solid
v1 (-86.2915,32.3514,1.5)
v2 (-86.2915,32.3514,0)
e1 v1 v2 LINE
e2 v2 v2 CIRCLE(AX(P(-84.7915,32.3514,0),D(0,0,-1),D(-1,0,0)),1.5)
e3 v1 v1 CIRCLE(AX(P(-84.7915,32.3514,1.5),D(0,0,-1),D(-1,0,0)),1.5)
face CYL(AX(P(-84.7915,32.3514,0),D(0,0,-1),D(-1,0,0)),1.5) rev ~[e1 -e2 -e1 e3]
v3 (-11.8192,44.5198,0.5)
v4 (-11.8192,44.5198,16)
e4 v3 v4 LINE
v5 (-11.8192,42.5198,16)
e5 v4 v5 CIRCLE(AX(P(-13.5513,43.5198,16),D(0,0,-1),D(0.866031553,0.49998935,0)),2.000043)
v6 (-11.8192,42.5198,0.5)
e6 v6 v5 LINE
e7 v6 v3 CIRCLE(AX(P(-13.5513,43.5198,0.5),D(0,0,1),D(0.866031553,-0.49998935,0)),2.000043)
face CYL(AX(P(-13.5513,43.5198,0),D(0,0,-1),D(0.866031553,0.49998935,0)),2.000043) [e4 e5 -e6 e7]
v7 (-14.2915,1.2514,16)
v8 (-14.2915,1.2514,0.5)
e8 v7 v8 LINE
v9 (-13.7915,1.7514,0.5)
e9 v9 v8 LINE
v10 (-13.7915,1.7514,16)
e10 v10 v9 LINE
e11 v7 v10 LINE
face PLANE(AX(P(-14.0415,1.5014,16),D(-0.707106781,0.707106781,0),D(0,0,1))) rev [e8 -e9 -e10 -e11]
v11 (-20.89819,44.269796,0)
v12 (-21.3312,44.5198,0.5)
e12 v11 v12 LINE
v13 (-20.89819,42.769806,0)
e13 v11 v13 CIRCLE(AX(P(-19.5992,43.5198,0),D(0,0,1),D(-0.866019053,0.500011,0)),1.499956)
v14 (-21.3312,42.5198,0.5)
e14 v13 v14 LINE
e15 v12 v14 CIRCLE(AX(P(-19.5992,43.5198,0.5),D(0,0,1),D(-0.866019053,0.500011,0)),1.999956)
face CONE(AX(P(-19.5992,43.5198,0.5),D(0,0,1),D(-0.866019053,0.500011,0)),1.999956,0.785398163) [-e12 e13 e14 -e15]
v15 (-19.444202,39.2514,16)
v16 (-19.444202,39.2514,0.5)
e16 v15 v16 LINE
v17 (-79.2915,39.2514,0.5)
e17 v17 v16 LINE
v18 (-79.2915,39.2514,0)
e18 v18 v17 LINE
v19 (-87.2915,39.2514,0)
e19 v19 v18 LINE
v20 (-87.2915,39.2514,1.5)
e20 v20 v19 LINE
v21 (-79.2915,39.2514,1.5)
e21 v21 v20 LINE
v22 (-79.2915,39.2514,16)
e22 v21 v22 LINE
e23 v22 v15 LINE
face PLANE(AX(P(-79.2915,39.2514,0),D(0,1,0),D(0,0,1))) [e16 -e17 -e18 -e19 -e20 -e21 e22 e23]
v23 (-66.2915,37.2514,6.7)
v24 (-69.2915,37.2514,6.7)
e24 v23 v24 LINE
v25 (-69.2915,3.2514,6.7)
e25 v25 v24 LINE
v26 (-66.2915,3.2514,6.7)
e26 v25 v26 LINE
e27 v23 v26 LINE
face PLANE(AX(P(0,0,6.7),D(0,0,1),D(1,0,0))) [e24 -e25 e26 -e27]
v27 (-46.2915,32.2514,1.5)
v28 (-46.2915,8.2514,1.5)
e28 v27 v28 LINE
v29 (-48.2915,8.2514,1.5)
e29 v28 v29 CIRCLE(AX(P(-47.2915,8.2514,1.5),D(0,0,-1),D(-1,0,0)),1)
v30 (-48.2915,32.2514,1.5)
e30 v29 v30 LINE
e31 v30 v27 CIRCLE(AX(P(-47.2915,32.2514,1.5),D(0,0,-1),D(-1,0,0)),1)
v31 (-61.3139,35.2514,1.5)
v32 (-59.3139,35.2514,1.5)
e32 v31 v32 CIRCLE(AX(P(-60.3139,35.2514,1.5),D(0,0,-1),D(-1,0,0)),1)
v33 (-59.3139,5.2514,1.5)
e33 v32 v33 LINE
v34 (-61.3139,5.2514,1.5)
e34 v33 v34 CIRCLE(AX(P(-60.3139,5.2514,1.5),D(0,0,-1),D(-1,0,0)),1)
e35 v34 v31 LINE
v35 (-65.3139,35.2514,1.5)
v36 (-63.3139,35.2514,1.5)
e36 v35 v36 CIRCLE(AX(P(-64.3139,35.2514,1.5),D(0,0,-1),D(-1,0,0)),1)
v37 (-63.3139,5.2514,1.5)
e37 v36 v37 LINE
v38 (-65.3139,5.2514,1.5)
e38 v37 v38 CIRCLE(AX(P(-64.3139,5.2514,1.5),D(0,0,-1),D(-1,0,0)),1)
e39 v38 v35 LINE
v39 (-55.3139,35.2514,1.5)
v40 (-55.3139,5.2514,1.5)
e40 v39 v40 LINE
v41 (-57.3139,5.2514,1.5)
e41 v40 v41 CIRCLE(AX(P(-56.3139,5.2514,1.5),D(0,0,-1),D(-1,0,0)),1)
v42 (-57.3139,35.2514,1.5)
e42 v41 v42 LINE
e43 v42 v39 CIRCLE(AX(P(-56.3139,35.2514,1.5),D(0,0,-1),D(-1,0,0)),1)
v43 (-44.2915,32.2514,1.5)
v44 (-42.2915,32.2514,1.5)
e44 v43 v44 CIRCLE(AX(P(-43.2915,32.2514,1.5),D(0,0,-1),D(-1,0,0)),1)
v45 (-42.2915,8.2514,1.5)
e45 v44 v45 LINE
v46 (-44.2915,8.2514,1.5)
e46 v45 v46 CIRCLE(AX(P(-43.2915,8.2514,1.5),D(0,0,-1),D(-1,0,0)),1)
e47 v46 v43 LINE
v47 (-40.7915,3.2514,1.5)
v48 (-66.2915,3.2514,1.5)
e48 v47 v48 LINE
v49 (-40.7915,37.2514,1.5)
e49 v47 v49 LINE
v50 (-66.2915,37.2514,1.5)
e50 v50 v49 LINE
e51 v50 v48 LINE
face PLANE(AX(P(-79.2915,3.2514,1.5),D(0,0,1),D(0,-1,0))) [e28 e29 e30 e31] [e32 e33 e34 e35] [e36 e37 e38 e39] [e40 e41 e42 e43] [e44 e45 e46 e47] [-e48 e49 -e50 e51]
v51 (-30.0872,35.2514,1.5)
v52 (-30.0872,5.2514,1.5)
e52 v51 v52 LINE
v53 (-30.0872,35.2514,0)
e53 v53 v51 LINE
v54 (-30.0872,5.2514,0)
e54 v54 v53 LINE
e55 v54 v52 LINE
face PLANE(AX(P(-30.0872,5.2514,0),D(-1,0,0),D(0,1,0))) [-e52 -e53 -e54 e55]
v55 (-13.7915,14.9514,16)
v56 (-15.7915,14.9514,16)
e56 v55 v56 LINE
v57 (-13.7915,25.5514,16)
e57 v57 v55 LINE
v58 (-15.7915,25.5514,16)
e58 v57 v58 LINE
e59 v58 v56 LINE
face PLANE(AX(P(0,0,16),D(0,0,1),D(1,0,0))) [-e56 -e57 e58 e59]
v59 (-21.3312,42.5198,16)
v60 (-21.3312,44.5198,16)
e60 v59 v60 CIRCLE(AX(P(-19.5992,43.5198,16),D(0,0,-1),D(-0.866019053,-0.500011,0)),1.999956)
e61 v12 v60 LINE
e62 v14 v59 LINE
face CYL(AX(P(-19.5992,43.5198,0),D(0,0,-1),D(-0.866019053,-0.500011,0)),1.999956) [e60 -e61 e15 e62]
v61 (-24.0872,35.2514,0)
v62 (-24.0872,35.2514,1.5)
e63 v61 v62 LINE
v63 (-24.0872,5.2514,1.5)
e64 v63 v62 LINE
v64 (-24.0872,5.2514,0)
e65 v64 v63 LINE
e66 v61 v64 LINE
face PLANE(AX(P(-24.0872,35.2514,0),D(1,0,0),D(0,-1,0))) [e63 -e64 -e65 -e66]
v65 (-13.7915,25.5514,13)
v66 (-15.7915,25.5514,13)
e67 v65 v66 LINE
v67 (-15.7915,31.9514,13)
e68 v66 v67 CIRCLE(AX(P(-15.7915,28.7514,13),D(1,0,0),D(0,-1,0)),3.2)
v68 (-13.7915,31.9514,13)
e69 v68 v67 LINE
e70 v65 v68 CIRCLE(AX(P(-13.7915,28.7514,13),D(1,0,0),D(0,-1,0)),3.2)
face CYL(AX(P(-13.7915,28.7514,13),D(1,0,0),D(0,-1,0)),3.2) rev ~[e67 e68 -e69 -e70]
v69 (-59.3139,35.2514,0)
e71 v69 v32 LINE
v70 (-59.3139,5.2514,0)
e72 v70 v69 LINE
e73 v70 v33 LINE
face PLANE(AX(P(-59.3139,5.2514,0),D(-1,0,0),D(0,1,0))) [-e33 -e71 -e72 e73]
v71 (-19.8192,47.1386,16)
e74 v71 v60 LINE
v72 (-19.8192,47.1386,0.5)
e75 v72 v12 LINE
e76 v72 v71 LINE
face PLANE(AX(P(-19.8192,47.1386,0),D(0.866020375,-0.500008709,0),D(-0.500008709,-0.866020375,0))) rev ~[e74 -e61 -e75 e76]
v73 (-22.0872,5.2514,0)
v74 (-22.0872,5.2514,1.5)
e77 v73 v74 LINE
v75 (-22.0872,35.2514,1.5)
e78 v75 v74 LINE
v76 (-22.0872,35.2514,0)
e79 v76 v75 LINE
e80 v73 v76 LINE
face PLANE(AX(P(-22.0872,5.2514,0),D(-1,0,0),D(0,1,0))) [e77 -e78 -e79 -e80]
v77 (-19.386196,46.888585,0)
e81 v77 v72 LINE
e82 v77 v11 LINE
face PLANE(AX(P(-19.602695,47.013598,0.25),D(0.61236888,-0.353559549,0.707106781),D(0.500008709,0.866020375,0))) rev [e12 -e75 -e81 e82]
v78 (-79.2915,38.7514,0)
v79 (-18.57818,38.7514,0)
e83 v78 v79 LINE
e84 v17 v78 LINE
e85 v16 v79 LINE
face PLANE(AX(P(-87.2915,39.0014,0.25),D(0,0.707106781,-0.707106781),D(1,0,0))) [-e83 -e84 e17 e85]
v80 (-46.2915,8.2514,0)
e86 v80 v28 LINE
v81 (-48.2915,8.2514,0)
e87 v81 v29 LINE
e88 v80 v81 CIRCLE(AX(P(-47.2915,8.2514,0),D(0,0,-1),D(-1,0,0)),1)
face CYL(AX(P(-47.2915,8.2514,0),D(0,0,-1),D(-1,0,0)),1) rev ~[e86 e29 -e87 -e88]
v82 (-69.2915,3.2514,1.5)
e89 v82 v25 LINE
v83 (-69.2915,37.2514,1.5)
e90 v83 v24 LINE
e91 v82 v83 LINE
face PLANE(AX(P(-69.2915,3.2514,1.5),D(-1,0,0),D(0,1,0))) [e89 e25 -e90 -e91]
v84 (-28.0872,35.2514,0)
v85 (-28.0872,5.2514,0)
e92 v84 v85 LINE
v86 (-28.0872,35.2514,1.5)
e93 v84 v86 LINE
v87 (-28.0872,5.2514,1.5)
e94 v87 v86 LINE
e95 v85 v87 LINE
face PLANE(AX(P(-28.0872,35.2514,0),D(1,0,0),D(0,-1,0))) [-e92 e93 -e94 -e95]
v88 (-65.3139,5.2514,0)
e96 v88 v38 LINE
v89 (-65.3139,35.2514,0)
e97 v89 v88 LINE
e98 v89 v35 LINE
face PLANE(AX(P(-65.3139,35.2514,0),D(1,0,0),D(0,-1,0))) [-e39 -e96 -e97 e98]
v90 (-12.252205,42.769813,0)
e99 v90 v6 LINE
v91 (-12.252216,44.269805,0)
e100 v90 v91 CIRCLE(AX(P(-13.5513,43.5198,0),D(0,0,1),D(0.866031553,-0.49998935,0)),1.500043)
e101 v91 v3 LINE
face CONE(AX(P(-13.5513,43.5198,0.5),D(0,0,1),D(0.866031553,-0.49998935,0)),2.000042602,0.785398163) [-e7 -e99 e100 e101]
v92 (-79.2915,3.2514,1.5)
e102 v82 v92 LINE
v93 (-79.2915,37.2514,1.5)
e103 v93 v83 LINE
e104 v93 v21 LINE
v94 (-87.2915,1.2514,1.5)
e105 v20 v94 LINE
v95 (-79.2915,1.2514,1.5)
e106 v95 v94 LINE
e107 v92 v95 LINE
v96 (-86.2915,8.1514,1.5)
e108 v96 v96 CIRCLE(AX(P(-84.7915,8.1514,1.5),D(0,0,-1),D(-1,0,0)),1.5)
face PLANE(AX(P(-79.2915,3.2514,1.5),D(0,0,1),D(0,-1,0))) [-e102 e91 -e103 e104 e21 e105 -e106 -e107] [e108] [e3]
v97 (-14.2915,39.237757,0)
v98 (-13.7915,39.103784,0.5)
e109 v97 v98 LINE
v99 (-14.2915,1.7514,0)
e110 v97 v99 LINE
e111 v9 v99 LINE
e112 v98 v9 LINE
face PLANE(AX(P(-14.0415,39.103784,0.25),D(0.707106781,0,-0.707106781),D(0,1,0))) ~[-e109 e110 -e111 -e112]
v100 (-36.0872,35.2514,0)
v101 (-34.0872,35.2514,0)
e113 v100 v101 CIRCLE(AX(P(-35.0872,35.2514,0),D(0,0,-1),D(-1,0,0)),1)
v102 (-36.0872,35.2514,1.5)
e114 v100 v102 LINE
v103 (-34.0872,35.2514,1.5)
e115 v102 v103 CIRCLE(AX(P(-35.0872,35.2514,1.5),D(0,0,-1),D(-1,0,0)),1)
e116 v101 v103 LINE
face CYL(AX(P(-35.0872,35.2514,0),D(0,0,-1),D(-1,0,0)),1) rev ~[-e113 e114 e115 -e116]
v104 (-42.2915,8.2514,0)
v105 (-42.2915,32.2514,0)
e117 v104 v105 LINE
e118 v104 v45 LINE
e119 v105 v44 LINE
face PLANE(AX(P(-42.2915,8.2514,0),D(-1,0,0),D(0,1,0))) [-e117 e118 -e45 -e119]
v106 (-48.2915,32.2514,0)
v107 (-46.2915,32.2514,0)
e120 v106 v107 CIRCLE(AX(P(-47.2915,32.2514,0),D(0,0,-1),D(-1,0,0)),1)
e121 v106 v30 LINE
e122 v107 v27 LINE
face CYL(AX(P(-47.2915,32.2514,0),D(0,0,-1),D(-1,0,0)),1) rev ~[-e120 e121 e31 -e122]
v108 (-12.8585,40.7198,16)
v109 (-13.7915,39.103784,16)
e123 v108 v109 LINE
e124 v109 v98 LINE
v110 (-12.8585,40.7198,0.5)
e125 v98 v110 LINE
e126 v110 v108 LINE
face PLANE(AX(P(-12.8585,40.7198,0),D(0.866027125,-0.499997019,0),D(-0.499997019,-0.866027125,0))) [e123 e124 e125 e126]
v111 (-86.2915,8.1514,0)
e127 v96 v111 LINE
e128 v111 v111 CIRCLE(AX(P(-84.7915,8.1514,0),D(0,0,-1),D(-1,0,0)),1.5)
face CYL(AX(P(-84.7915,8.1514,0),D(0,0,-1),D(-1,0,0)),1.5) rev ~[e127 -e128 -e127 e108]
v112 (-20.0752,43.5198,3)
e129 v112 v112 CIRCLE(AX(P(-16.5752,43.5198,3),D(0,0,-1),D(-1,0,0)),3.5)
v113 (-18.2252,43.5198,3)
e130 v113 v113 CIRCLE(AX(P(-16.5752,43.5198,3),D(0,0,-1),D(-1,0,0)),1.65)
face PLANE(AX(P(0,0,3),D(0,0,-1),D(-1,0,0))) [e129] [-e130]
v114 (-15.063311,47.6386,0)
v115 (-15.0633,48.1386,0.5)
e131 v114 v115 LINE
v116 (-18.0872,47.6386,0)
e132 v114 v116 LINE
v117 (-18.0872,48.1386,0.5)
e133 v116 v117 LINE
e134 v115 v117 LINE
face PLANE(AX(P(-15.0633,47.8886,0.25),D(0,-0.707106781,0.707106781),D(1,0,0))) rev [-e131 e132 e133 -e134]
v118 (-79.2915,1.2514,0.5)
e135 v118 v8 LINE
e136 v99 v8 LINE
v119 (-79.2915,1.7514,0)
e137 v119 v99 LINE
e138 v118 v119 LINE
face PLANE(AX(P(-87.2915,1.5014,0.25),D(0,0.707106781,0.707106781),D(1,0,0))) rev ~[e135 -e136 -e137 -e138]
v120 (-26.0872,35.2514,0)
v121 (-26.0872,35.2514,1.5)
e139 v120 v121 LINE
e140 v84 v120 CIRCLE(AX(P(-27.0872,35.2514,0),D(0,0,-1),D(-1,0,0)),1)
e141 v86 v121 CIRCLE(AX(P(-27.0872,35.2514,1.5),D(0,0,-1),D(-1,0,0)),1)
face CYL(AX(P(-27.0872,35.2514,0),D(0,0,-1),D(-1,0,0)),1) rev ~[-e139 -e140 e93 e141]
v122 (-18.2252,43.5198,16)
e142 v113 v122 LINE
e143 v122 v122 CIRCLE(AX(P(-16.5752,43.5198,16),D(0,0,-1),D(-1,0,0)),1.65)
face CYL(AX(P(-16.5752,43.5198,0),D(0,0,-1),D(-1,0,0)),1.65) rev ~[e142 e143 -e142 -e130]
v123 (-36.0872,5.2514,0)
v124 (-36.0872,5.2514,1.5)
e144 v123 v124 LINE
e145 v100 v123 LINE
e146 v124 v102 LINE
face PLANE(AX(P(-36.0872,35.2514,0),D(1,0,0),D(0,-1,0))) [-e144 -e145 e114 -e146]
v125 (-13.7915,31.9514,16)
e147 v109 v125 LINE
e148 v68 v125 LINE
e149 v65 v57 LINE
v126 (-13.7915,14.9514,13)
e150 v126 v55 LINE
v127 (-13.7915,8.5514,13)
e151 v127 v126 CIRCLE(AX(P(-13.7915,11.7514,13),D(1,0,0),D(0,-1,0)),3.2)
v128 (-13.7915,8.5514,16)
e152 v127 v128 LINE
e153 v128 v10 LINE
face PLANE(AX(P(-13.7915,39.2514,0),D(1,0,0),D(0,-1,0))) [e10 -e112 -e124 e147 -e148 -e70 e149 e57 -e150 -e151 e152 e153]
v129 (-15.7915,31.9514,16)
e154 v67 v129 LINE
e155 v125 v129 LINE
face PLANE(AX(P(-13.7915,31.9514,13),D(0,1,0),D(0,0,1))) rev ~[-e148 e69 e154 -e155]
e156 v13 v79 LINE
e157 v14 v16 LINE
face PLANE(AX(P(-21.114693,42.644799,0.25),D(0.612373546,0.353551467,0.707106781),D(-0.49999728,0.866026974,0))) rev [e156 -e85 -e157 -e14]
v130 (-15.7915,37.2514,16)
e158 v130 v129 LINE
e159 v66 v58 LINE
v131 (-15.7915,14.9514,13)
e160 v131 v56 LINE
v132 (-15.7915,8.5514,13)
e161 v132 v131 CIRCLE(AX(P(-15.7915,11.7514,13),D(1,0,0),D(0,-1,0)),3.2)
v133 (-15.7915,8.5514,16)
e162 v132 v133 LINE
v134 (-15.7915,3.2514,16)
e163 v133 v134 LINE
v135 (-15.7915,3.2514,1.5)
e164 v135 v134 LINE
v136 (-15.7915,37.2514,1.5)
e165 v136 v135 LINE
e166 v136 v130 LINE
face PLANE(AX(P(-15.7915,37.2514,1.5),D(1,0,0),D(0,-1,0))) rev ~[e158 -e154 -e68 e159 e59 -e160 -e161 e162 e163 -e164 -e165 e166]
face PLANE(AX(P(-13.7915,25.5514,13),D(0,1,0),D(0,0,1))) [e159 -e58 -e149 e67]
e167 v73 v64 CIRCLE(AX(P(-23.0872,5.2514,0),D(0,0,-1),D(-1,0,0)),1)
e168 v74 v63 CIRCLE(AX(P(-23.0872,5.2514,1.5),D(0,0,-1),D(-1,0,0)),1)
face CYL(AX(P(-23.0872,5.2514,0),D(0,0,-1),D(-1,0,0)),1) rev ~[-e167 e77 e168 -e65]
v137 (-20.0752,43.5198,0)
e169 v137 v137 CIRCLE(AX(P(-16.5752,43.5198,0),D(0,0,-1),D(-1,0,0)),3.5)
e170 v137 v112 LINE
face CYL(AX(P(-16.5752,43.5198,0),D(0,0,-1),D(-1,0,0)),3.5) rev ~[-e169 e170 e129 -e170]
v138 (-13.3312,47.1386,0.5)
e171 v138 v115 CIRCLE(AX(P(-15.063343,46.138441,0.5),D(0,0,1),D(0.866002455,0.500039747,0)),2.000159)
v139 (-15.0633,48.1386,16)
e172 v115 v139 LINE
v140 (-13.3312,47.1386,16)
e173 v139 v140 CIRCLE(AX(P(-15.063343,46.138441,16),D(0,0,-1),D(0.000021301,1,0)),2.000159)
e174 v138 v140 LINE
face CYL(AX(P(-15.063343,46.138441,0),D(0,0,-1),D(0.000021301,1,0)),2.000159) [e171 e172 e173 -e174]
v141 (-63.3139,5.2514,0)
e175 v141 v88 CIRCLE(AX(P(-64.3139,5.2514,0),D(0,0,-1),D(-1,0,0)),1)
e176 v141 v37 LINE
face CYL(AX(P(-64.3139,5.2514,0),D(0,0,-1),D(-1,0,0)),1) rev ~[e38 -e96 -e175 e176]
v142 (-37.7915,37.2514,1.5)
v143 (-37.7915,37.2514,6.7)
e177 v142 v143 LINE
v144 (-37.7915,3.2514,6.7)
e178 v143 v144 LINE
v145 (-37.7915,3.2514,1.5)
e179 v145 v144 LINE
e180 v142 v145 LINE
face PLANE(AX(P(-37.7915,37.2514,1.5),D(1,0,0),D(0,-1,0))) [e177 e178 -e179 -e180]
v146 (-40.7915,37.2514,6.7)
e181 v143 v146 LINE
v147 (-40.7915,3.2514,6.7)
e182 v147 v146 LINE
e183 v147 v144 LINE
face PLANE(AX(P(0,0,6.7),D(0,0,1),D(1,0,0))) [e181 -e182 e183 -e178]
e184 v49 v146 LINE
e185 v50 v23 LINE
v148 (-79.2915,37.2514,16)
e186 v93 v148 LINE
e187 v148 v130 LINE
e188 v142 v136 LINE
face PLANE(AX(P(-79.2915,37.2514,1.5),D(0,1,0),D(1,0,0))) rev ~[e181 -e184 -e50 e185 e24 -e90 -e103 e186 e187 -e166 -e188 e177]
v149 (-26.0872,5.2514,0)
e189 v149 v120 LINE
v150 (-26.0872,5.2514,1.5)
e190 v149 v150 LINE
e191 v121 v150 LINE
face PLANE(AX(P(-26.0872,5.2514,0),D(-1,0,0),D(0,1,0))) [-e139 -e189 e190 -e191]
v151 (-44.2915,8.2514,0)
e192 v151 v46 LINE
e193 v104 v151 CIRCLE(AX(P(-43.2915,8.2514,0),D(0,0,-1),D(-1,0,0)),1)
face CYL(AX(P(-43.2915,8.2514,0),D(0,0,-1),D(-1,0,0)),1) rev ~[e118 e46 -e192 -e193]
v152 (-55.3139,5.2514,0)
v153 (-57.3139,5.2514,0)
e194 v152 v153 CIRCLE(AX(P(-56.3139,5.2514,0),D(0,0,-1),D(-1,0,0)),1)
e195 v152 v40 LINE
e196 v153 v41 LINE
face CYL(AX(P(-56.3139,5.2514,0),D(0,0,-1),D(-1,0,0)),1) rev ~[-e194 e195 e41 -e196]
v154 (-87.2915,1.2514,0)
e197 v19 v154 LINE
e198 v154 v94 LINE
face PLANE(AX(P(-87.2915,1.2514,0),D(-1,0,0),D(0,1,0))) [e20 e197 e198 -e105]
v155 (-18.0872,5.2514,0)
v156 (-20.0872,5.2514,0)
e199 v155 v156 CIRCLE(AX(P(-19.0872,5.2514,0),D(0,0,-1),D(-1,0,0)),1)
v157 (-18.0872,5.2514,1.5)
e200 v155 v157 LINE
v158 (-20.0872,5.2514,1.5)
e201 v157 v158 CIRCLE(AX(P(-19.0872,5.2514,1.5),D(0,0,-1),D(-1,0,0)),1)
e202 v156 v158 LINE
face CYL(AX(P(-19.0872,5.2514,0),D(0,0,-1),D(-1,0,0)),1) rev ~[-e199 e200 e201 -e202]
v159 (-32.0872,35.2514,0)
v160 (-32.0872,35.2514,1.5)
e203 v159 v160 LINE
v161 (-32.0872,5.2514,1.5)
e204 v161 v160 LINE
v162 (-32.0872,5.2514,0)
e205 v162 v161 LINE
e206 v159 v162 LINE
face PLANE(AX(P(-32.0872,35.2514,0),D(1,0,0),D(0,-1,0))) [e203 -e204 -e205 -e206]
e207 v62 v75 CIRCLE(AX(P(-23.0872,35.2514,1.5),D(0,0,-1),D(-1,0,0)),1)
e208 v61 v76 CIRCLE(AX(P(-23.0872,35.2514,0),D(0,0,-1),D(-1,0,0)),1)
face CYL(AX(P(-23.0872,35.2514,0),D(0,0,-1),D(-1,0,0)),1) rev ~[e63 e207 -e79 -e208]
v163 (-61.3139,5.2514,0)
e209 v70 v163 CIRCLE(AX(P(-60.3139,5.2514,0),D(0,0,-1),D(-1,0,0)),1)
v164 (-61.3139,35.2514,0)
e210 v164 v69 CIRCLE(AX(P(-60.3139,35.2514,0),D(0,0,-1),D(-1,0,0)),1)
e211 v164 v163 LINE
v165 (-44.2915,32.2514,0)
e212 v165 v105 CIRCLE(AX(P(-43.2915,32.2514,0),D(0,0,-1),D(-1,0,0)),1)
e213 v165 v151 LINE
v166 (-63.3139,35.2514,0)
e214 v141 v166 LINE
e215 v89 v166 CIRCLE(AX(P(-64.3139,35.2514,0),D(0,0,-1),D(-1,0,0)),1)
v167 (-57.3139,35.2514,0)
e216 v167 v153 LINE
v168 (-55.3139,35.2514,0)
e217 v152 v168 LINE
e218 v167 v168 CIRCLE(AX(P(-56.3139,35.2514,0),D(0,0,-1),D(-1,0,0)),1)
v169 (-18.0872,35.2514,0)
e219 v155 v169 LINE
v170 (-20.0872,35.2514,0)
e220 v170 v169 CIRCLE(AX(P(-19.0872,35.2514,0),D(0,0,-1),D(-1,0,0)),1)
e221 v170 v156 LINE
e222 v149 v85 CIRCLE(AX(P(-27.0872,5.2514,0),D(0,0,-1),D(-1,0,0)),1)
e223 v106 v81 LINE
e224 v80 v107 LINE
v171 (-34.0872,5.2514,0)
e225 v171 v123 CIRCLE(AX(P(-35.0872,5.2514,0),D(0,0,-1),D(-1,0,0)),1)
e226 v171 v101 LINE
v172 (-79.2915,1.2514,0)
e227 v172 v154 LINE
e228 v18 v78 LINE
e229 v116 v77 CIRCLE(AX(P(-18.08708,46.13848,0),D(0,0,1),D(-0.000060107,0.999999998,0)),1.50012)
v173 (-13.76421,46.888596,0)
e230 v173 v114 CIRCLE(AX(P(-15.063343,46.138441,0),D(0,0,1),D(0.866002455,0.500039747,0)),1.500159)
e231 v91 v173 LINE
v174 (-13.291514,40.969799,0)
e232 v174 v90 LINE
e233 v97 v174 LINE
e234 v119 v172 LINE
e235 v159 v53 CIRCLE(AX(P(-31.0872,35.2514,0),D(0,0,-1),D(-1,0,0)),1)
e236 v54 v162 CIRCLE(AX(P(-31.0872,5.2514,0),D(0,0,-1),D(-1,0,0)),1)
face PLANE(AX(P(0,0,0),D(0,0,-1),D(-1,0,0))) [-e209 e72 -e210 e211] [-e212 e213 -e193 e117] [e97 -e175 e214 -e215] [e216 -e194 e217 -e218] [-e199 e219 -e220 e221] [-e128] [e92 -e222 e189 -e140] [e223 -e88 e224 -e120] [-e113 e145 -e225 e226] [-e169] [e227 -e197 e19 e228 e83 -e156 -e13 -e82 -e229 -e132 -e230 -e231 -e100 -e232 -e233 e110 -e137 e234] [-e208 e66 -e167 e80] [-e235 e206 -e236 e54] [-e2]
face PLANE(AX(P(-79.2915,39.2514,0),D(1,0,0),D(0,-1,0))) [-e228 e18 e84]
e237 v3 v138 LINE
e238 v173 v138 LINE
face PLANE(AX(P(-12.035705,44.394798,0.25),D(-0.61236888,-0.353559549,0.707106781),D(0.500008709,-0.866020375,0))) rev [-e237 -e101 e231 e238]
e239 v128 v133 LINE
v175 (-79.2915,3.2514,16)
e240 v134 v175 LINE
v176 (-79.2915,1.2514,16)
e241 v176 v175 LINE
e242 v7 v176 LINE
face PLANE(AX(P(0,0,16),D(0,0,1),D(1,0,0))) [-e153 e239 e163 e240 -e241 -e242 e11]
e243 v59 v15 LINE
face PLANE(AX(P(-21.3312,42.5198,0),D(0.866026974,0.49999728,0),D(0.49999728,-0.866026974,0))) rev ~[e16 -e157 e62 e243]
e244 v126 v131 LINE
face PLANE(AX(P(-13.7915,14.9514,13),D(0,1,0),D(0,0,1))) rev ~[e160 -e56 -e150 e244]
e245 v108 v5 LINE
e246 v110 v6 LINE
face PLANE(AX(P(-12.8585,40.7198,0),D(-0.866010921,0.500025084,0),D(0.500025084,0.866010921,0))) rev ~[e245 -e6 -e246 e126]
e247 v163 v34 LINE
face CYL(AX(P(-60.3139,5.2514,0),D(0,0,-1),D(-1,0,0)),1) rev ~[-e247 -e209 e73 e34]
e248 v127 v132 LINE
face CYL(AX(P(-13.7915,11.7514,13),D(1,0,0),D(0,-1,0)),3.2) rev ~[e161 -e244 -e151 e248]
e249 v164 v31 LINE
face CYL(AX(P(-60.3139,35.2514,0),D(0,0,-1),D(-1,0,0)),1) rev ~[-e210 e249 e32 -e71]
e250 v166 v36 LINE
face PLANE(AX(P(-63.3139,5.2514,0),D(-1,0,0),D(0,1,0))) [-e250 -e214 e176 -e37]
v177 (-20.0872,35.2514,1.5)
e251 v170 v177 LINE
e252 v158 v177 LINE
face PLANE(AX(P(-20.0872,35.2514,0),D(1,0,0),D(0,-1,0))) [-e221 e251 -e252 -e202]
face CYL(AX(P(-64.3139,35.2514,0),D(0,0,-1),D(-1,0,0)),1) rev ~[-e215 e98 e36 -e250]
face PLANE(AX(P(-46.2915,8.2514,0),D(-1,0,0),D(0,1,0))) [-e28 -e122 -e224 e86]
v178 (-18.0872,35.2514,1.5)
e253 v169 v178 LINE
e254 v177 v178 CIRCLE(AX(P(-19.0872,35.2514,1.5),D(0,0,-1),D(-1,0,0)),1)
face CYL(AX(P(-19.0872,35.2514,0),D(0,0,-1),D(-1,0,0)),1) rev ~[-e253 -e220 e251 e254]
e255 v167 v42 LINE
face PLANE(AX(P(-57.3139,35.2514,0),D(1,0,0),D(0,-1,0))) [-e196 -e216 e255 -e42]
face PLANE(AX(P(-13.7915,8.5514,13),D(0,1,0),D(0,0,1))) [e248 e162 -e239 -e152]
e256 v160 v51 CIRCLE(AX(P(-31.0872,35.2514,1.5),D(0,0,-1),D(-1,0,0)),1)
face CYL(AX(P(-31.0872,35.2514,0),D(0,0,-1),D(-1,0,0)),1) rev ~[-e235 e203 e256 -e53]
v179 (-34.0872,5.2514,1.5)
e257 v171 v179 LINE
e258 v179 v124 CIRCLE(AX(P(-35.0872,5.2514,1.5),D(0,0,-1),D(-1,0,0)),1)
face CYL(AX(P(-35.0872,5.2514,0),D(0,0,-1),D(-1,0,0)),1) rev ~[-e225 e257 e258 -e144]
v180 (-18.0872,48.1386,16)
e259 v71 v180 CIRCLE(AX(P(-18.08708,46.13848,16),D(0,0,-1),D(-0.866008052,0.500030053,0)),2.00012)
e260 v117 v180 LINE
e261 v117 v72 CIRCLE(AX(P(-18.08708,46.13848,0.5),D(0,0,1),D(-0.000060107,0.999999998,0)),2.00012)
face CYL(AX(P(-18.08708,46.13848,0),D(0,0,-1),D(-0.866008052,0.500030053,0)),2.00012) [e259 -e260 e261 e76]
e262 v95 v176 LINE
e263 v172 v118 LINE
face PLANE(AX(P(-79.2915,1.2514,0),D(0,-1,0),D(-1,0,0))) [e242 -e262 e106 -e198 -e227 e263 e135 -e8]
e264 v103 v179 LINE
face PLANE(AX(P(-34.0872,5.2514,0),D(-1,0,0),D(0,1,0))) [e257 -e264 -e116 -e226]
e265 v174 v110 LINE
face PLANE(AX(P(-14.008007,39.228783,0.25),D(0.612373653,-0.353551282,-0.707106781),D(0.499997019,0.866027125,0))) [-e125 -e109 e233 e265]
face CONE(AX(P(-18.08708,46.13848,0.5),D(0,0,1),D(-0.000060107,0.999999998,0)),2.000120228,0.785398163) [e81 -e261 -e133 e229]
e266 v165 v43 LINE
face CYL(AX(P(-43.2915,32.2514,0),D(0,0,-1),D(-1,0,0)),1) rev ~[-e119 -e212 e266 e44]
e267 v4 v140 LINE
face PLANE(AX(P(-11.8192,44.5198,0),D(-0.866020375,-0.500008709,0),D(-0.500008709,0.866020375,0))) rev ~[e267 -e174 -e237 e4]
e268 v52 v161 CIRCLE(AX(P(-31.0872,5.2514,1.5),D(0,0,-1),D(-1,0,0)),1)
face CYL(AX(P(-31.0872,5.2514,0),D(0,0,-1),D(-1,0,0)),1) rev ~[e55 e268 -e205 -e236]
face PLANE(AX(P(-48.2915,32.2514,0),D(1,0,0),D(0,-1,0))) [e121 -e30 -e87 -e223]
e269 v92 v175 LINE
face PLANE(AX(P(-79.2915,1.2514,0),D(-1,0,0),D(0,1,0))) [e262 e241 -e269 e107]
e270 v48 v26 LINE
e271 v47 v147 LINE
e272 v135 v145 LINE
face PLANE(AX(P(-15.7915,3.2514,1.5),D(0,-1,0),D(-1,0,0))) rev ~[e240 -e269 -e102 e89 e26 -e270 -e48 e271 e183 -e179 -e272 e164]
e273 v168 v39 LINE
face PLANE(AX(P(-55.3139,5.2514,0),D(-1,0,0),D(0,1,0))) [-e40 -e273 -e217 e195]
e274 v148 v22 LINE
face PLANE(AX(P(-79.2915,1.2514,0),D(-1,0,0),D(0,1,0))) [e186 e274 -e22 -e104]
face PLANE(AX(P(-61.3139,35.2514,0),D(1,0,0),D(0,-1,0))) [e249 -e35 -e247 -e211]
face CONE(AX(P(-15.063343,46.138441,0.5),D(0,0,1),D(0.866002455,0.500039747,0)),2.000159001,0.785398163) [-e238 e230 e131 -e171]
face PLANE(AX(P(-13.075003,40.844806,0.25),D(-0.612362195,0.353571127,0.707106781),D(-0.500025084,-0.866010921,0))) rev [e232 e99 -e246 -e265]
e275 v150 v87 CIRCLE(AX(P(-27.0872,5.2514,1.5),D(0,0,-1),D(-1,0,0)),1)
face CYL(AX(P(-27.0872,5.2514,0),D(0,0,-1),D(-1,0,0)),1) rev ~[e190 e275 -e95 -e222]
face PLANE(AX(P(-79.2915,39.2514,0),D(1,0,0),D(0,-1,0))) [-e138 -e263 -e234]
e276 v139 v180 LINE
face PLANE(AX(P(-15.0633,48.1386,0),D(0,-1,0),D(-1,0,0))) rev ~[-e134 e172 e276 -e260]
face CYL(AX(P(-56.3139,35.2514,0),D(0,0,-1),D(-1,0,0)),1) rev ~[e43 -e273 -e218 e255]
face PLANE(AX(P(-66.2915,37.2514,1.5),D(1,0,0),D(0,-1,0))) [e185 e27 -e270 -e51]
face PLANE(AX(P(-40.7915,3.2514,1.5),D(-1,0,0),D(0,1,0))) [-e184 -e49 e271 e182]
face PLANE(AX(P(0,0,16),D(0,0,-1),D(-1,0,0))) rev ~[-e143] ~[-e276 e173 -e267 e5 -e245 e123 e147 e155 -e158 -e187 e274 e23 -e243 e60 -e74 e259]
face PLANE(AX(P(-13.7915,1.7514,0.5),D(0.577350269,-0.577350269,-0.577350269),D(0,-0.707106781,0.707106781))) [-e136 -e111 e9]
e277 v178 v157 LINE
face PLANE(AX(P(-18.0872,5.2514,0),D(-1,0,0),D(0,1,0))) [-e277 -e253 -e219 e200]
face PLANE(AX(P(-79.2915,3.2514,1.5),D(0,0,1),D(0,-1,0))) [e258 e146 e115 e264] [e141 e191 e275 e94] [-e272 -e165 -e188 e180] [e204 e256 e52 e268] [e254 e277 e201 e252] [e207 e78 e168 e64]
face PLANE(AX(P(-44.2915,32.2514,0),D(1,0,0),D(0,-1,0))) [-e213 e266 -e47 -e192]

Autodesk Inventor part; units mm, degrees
ref_plane "YZ Plane" through (0, 0, 0) normal (1, 0, 0) x (0, 1, 0)
ref_plane "XZ Plane" through (0, 0, 0) normal (0, 1, 0) x (-1, 0, 0)
ref_plane "XY Plane" through (0, 0, 0) normal (0, 0, 1) x (1, 0, 0)
sketch "Sketch1" plane through (0, 0, 0) normal (0, 0, 1) x (1, 0, 0)
  line L0 (-79.2915, 39.2514) -> (-13.7915, 39.2514)
  line L1 (-13.7915, 39.2514) -> (-13.7915, 1.2514)
  line L2 (-13.7915, 1.2514) -> (-79.2915, 1.2514)
  line L3 (-79.2915, 1.2514) -> (-79.2915, 39.2514)
  point P0 (0, 0)
extrude "Extrusion1" add sketch "Sketch1" along normal blind 1.5
sketch "Sketch2" plane through (0, 0, 1.5) normal (0, 0, 1) x (1, 0, 0)
  line L0 (-13.7915, 39.2514) -> (-13.7915, 1.2514) projected
  line L1 (-79.2915, 39.2514) -> (-13.7915, 39.2514) projected
  line L2 (-79.2915, 1.2514) -> (-79.2915, 39.2514) projected
  line L3 (-13.7915, 1.2514) -> (-79.2915, 1.2514) projected
  line L4 (-79.2915, 37.2514) -> (-15.7915, 37.2514)
  line L5 (-15.7915, 37.2514) -> (-15.7915, 3.2514)
  line L6 (-15.7915, 3.2514) -> (-79.2915, 3.2514)
  point P0 (0, 0)
  dimension "d2" = 2
  dimension "d3" = 2
  dimension "d4" = 2
extrude "Extrusion2" add sketch "Sketch2" along normal blind 14.5 contours L0 L3 L2 L6 L5 L4 L1
sketch "Sketch3" plane through (-13.7915, 1.2514, 0) normal (1, 0, 0) x (0, 0, -1)
  line L0 (0, 0) -> (-16, 0) projected
  line L1 (0, 38) -> (0, 0) projected
  line L2 (0, 38) -> (-16, 38) projected
  line L3 (-16, 38) -> (-16, 0) projected
  arc A0 (-13, 24.3) -> (-13, 30.7) centre (-13, 27.5) ccw
  line L4 (-13, 30.7) -> (-16, 30.7)
  line L5 (-13, 24.3) -> (-16, 24.3)
  arc A1 (-13, 7.3) -> (-13, 13.7) centre (-13, 10.5) ccw
  line L6 (-13, 7.3) -> (-16, 7.3)
  line L7 (-13, 13.7) -> (-16, 13.7)
  point P0 (0, -1.2514)
  dimension "d7" = 13
  dimension "d8" = 10.5
  dimension "d9" = 3.2
  dimension "d10" = 13
  dimension "d11" = 10.5
extrude "Extrusion3" cut sketch "Sketch3" against normal blind 13 contours L3 L7 A1 L6 | L4 A0 L5 L3
sketch "Sketch4" plane through (0, 0, 0) normal (0, 0, -1) x (-1, 0, 0)
  line L0 (21.3312, 42.5198) -> (19.2419, 38.901)
  arc A0 (21.3312, 42.5198) -> (21.3312, 44.5198) centre (19.5992, 43.5198) ccw
  line L1 (19.8192, 47.1386) -> (21.3312, 44.5198)
  arc A1 (19.8192, 47.1386) -> (18.0872, 48.1386) centre (18.0872, 46.1386) ccw
  line L2 (15.0633, 48.1386) -> (18.0872, 48.1386)
  arc A2 (15.0633, 48.1386) -> (13.3312, 47.1386) centre (15.0633, 46.1386) ccw
  line L3 (11.8192, 44.5198) -> (13.3312, 47.1386)
  arc A3 (11.8192, 44.5198) -> (11.8192, 42.5198) centre (13.5513, 43.5198) ccw
  line L4 (12.8585, 40.7198) -> (11.8192, 42.5198)
  circle A4 centre (16.5752, 43.5198) radius 1.65
  line L5 (12.8585, 40.7198) -> (13.7938, 39.0998)
  line L6 (13.7938, 39.0998) -> (19.3567, 39.0998)
  point P0 (0, 0)
  point P1 (16.0419, 38.7198)
extrude "Extrusion4" add sketch "Sketch4" against normal blind 16
sketch "Sketch5" plane through (-79.2915, 1.2514, 0) normal (-1, 0, 0) x (0, 0, 1)
  line L0 (1.5, 2) -> (1.5, 36) projected
  line L1 (0, 38) -> (16, 38) projected
  line L2 (0, 0) -> (0, 38) projected
  line L3 (0, 0) -> (16, 0) projected
  line L4 (1.5, 36) -> (1.5, 38)
  line L5 (1.5, 2) -> (1.5, 0)
  point P0 (0, -1.2514)
extrude "Extrusion5" add sketch "Sketch5" along normal blind 8
sketch "Sketch6" plane through (0, 0, 1.5) normal (0, 0, 1) x (1, 0, 0)
  line L0 (-15.7915, 37.2514) -> (-79.2915, 37.2514) projected
  line L1 (-79.2915, 3.2514) -> (-15.7915, 3.2514) projected
  line L2 (-15.7915, 3.2514) -> (-15.7915, 37.2514) projected
  line L3 (-69.2915, 37.2514) -> (-66.2915, 37.2514)
  line L4 (-66.2915, 37.2514) -> (-66.2915, 3.2514)
  line L5 (-66.2915, 3.2514) -> (-69.2915, 3.2514)
  line L6 (-69.2915, 3.2514) -> (-69.2915, 37.2514)
  line L7 (-40.7915, 37.2514) -> (-37.7915, 37.2514)
  line L8 (-37.7915, 37.2514) -> (-37.7915, 3.2514)
  line L9 (-37.7915, 3.2514) -> (-40.7915, 3.2514)
  line L10 (-40.7915, 3.2514) -> (-40.7915, 37.2514)
  point P0 (0, 0)
  dimension "d18" = 3
  dimension "d19" = 3
  dimension "d20" = 22
  dimension "d21" = 10
extrude "Extrusion6" add sketch "Sketch6" along normal blind 5.2 contours L8 L1 L10 L0 | L4 L1 L6 L0
sketch "Sketch7" plane through (0, 0, 0) normal (0, 0, -1) x (-1, 0, 0)
  line L0 (87.2915, 39.2514) -> (19.4442, 39.2514) projected
  line L1 (18.0872, 35.2514) -> (20.0872, 35.2514)
  line L2 (20.0872, 35.2514) -> (20.0872, 5.2514)
  line L3 (20.0872, 5.2514) -> (18.0872, 5.2514)
  line L4 (18.0872, 5.2514) -> (18.0872, 35.2514)
  circle A0 centre (19.0872, 35.2514) radius 1
  circle A1 centre (19.0872, 5.2514) radius 1
  point P0 (0, 0)
  dimension "d24" = 2
  dimension "d25" = 30
  dimension "d26" = 4
  dimension "d32" = 2
  dimension "d33" = 2
extrude "Extrusion7" cut sketch "Sketch7" against normal blind 2
pattern_linear "Rectangular Pattern1" count 5 spacing 4 along (-1, 0, 0) of "Extrusion7"
sketch "Sketch8" plane through (0, 0, 0) normal (0, 0, -1) x (-1, 0, 0)
  line L0 (13.7915, 1.2514) -> (87.2915, 1.2514) projected
  line L1 (87.2915, 1.2514) -> (87.2915, 39.2514) projected
  line L2 (42.2915, 32.2514) -> (44.2915, 32.2514)
  line L3 (44.2915, 32.2514) -> (44.2915, 8.2514)
  line L4 (44.2915, 8.2514) -> (42.2915, 8.2514)
  line L5 (42.2915, 8.2514) -> (42.2915, 32.2514)
  circle A0 centre (43.2915, 32.2514) radius 1
  circle A1 centre (43.2915, 8.2514) radius 1
  point P0 (0, 0)
  dimension "d34" = 2
  dimension "d35" = 24
  dimension "d36" = 43
  dimension "d37" = 7
extrude "Extrusion8" cut sketch "Sketch8" against normal blind 2
pattern_linear "Rectangular Pattern2" count 2 spacing 4 along (-1, 0, 0) of "Extrusion8"
sketch "Sketch9" plane through (0, 0, 0) normal (0, 0, -1) x (-1, 0, 0)
  line L0 (87.2915, 39.2514) -> (19.4442, 39.2514) projected
  line L1 (55.3139, 35.2514) -> (57.3139, 35.2514)
  line L2 (57.3139, 35.2514) -> (57.3139, 5.2514)
  line L3 (57.3139, 5.2514) -> (55.3139, 5.2514)
  line L4 (55.3139, 5.2514) -> (55.3139, 35.2514)
  circle A0 centre (56.3139, 35.2514) radius 1
  circle A1 centre (56.3139, 5.2514) radius 1
  point P0 (0, 0)
  dimension "d43" = 30
  dimension "d44" = 4
extrude "Extrusion9" cut sketch "Sketch9" against normal blind 2
pattern_linear "Rectangular Pattern3" count 3 spacing 4 along (-1, 0, 0) of "Extrusion9"
sketch "Sketch11" plane through (0, 0, 0) normal (0, 0, -1) x (-1, 0, 0)
  line L0 (87.2915, 1.2514) -> (87.2915, 39.2514) projected
  line L1 (87.2915, 39.2514) -> (19.4442, 39.2514) projected
  circle A0 centre (84.7915, 32.3514) radius 1.5
  circle A1 centre (84.7915, 8.1514) radius 1.5
  point P0 (0, 0)
  dimension "d50" = 2.5
  dimension "d51" = 2.5
  dimension "d52" = 24.2
  dimension "d53" = 6.9
extrude "Extrusion10" cut sketch "Sketch11" against normal blind 10
chamfer "Chamfer1" distance 0.5 angle 45 13 edges at (-50.5415, 1.2514, 0) (-13.7915, 20.1776, 0) (-13.7915, 1.2514, 8) (-53.3678, 39.2514, 0) (-20.3877, 40.8856, 0) (-21.5992, 43.5198, 0) (-20.5752, 45.8292, 0) (-19.0872, 47.8707, 0) (-16.5752, 48.1386, 0) (-14.0633, 47.8707, 0) (-12.5752, 45.8292, 0) (-11.5513, 43.5198, 0) (-12.8054, 40.8118, 0)
sketch "Sketch12" plane through (0, 0, 0) normal (0, 0, -1) x (-1, 0, 0)
  line L0 (87.2915, 1.7514) -> (87.2915, 38.7514) projected
  circle A0 centre (84.7915, 32.3514) radius 1.5 projected
  circle A1 centre (84.7915, 8.1514) radius 1.5 projected
  line L1 (87.2915, 39.2514) -> (79.2915, 39.2514)
  line L2 (79.2915, 39.2514) -> (79.2915, 1.2514)
  line L3 (79.2915, 1.2514) -> (87.2915, 1.2514)
  line L4 (87.2915, 1.2514) -> (87.2915, 39.2514)
  line L5 (14.2915, 1.2514) -> (87.2915, 1.2514) projected
  point P0 (0, 0)
  dimension "d59" = 38
  dimension "d60" = 8
  dimension "d61" = 0
  dimension "d64" = 0
extrude "Extrusion11" add sketch "Sketch12" against normal blind 1
sketch "Sketch13" plane through (0, 0, 0) normal (0, 0, -1) x (-1, 0, 0)
  circle A0 centre (16.5752, 43.5198) radius 1.65 projected
  circle A1 centre (16.5752, 43.5198) radius 3.5
  point P0 (0, 0)
extrude "Extrusion12" cut sketch "Sketch13" against normal blind 3
properties part number "case add on sdr botom"
